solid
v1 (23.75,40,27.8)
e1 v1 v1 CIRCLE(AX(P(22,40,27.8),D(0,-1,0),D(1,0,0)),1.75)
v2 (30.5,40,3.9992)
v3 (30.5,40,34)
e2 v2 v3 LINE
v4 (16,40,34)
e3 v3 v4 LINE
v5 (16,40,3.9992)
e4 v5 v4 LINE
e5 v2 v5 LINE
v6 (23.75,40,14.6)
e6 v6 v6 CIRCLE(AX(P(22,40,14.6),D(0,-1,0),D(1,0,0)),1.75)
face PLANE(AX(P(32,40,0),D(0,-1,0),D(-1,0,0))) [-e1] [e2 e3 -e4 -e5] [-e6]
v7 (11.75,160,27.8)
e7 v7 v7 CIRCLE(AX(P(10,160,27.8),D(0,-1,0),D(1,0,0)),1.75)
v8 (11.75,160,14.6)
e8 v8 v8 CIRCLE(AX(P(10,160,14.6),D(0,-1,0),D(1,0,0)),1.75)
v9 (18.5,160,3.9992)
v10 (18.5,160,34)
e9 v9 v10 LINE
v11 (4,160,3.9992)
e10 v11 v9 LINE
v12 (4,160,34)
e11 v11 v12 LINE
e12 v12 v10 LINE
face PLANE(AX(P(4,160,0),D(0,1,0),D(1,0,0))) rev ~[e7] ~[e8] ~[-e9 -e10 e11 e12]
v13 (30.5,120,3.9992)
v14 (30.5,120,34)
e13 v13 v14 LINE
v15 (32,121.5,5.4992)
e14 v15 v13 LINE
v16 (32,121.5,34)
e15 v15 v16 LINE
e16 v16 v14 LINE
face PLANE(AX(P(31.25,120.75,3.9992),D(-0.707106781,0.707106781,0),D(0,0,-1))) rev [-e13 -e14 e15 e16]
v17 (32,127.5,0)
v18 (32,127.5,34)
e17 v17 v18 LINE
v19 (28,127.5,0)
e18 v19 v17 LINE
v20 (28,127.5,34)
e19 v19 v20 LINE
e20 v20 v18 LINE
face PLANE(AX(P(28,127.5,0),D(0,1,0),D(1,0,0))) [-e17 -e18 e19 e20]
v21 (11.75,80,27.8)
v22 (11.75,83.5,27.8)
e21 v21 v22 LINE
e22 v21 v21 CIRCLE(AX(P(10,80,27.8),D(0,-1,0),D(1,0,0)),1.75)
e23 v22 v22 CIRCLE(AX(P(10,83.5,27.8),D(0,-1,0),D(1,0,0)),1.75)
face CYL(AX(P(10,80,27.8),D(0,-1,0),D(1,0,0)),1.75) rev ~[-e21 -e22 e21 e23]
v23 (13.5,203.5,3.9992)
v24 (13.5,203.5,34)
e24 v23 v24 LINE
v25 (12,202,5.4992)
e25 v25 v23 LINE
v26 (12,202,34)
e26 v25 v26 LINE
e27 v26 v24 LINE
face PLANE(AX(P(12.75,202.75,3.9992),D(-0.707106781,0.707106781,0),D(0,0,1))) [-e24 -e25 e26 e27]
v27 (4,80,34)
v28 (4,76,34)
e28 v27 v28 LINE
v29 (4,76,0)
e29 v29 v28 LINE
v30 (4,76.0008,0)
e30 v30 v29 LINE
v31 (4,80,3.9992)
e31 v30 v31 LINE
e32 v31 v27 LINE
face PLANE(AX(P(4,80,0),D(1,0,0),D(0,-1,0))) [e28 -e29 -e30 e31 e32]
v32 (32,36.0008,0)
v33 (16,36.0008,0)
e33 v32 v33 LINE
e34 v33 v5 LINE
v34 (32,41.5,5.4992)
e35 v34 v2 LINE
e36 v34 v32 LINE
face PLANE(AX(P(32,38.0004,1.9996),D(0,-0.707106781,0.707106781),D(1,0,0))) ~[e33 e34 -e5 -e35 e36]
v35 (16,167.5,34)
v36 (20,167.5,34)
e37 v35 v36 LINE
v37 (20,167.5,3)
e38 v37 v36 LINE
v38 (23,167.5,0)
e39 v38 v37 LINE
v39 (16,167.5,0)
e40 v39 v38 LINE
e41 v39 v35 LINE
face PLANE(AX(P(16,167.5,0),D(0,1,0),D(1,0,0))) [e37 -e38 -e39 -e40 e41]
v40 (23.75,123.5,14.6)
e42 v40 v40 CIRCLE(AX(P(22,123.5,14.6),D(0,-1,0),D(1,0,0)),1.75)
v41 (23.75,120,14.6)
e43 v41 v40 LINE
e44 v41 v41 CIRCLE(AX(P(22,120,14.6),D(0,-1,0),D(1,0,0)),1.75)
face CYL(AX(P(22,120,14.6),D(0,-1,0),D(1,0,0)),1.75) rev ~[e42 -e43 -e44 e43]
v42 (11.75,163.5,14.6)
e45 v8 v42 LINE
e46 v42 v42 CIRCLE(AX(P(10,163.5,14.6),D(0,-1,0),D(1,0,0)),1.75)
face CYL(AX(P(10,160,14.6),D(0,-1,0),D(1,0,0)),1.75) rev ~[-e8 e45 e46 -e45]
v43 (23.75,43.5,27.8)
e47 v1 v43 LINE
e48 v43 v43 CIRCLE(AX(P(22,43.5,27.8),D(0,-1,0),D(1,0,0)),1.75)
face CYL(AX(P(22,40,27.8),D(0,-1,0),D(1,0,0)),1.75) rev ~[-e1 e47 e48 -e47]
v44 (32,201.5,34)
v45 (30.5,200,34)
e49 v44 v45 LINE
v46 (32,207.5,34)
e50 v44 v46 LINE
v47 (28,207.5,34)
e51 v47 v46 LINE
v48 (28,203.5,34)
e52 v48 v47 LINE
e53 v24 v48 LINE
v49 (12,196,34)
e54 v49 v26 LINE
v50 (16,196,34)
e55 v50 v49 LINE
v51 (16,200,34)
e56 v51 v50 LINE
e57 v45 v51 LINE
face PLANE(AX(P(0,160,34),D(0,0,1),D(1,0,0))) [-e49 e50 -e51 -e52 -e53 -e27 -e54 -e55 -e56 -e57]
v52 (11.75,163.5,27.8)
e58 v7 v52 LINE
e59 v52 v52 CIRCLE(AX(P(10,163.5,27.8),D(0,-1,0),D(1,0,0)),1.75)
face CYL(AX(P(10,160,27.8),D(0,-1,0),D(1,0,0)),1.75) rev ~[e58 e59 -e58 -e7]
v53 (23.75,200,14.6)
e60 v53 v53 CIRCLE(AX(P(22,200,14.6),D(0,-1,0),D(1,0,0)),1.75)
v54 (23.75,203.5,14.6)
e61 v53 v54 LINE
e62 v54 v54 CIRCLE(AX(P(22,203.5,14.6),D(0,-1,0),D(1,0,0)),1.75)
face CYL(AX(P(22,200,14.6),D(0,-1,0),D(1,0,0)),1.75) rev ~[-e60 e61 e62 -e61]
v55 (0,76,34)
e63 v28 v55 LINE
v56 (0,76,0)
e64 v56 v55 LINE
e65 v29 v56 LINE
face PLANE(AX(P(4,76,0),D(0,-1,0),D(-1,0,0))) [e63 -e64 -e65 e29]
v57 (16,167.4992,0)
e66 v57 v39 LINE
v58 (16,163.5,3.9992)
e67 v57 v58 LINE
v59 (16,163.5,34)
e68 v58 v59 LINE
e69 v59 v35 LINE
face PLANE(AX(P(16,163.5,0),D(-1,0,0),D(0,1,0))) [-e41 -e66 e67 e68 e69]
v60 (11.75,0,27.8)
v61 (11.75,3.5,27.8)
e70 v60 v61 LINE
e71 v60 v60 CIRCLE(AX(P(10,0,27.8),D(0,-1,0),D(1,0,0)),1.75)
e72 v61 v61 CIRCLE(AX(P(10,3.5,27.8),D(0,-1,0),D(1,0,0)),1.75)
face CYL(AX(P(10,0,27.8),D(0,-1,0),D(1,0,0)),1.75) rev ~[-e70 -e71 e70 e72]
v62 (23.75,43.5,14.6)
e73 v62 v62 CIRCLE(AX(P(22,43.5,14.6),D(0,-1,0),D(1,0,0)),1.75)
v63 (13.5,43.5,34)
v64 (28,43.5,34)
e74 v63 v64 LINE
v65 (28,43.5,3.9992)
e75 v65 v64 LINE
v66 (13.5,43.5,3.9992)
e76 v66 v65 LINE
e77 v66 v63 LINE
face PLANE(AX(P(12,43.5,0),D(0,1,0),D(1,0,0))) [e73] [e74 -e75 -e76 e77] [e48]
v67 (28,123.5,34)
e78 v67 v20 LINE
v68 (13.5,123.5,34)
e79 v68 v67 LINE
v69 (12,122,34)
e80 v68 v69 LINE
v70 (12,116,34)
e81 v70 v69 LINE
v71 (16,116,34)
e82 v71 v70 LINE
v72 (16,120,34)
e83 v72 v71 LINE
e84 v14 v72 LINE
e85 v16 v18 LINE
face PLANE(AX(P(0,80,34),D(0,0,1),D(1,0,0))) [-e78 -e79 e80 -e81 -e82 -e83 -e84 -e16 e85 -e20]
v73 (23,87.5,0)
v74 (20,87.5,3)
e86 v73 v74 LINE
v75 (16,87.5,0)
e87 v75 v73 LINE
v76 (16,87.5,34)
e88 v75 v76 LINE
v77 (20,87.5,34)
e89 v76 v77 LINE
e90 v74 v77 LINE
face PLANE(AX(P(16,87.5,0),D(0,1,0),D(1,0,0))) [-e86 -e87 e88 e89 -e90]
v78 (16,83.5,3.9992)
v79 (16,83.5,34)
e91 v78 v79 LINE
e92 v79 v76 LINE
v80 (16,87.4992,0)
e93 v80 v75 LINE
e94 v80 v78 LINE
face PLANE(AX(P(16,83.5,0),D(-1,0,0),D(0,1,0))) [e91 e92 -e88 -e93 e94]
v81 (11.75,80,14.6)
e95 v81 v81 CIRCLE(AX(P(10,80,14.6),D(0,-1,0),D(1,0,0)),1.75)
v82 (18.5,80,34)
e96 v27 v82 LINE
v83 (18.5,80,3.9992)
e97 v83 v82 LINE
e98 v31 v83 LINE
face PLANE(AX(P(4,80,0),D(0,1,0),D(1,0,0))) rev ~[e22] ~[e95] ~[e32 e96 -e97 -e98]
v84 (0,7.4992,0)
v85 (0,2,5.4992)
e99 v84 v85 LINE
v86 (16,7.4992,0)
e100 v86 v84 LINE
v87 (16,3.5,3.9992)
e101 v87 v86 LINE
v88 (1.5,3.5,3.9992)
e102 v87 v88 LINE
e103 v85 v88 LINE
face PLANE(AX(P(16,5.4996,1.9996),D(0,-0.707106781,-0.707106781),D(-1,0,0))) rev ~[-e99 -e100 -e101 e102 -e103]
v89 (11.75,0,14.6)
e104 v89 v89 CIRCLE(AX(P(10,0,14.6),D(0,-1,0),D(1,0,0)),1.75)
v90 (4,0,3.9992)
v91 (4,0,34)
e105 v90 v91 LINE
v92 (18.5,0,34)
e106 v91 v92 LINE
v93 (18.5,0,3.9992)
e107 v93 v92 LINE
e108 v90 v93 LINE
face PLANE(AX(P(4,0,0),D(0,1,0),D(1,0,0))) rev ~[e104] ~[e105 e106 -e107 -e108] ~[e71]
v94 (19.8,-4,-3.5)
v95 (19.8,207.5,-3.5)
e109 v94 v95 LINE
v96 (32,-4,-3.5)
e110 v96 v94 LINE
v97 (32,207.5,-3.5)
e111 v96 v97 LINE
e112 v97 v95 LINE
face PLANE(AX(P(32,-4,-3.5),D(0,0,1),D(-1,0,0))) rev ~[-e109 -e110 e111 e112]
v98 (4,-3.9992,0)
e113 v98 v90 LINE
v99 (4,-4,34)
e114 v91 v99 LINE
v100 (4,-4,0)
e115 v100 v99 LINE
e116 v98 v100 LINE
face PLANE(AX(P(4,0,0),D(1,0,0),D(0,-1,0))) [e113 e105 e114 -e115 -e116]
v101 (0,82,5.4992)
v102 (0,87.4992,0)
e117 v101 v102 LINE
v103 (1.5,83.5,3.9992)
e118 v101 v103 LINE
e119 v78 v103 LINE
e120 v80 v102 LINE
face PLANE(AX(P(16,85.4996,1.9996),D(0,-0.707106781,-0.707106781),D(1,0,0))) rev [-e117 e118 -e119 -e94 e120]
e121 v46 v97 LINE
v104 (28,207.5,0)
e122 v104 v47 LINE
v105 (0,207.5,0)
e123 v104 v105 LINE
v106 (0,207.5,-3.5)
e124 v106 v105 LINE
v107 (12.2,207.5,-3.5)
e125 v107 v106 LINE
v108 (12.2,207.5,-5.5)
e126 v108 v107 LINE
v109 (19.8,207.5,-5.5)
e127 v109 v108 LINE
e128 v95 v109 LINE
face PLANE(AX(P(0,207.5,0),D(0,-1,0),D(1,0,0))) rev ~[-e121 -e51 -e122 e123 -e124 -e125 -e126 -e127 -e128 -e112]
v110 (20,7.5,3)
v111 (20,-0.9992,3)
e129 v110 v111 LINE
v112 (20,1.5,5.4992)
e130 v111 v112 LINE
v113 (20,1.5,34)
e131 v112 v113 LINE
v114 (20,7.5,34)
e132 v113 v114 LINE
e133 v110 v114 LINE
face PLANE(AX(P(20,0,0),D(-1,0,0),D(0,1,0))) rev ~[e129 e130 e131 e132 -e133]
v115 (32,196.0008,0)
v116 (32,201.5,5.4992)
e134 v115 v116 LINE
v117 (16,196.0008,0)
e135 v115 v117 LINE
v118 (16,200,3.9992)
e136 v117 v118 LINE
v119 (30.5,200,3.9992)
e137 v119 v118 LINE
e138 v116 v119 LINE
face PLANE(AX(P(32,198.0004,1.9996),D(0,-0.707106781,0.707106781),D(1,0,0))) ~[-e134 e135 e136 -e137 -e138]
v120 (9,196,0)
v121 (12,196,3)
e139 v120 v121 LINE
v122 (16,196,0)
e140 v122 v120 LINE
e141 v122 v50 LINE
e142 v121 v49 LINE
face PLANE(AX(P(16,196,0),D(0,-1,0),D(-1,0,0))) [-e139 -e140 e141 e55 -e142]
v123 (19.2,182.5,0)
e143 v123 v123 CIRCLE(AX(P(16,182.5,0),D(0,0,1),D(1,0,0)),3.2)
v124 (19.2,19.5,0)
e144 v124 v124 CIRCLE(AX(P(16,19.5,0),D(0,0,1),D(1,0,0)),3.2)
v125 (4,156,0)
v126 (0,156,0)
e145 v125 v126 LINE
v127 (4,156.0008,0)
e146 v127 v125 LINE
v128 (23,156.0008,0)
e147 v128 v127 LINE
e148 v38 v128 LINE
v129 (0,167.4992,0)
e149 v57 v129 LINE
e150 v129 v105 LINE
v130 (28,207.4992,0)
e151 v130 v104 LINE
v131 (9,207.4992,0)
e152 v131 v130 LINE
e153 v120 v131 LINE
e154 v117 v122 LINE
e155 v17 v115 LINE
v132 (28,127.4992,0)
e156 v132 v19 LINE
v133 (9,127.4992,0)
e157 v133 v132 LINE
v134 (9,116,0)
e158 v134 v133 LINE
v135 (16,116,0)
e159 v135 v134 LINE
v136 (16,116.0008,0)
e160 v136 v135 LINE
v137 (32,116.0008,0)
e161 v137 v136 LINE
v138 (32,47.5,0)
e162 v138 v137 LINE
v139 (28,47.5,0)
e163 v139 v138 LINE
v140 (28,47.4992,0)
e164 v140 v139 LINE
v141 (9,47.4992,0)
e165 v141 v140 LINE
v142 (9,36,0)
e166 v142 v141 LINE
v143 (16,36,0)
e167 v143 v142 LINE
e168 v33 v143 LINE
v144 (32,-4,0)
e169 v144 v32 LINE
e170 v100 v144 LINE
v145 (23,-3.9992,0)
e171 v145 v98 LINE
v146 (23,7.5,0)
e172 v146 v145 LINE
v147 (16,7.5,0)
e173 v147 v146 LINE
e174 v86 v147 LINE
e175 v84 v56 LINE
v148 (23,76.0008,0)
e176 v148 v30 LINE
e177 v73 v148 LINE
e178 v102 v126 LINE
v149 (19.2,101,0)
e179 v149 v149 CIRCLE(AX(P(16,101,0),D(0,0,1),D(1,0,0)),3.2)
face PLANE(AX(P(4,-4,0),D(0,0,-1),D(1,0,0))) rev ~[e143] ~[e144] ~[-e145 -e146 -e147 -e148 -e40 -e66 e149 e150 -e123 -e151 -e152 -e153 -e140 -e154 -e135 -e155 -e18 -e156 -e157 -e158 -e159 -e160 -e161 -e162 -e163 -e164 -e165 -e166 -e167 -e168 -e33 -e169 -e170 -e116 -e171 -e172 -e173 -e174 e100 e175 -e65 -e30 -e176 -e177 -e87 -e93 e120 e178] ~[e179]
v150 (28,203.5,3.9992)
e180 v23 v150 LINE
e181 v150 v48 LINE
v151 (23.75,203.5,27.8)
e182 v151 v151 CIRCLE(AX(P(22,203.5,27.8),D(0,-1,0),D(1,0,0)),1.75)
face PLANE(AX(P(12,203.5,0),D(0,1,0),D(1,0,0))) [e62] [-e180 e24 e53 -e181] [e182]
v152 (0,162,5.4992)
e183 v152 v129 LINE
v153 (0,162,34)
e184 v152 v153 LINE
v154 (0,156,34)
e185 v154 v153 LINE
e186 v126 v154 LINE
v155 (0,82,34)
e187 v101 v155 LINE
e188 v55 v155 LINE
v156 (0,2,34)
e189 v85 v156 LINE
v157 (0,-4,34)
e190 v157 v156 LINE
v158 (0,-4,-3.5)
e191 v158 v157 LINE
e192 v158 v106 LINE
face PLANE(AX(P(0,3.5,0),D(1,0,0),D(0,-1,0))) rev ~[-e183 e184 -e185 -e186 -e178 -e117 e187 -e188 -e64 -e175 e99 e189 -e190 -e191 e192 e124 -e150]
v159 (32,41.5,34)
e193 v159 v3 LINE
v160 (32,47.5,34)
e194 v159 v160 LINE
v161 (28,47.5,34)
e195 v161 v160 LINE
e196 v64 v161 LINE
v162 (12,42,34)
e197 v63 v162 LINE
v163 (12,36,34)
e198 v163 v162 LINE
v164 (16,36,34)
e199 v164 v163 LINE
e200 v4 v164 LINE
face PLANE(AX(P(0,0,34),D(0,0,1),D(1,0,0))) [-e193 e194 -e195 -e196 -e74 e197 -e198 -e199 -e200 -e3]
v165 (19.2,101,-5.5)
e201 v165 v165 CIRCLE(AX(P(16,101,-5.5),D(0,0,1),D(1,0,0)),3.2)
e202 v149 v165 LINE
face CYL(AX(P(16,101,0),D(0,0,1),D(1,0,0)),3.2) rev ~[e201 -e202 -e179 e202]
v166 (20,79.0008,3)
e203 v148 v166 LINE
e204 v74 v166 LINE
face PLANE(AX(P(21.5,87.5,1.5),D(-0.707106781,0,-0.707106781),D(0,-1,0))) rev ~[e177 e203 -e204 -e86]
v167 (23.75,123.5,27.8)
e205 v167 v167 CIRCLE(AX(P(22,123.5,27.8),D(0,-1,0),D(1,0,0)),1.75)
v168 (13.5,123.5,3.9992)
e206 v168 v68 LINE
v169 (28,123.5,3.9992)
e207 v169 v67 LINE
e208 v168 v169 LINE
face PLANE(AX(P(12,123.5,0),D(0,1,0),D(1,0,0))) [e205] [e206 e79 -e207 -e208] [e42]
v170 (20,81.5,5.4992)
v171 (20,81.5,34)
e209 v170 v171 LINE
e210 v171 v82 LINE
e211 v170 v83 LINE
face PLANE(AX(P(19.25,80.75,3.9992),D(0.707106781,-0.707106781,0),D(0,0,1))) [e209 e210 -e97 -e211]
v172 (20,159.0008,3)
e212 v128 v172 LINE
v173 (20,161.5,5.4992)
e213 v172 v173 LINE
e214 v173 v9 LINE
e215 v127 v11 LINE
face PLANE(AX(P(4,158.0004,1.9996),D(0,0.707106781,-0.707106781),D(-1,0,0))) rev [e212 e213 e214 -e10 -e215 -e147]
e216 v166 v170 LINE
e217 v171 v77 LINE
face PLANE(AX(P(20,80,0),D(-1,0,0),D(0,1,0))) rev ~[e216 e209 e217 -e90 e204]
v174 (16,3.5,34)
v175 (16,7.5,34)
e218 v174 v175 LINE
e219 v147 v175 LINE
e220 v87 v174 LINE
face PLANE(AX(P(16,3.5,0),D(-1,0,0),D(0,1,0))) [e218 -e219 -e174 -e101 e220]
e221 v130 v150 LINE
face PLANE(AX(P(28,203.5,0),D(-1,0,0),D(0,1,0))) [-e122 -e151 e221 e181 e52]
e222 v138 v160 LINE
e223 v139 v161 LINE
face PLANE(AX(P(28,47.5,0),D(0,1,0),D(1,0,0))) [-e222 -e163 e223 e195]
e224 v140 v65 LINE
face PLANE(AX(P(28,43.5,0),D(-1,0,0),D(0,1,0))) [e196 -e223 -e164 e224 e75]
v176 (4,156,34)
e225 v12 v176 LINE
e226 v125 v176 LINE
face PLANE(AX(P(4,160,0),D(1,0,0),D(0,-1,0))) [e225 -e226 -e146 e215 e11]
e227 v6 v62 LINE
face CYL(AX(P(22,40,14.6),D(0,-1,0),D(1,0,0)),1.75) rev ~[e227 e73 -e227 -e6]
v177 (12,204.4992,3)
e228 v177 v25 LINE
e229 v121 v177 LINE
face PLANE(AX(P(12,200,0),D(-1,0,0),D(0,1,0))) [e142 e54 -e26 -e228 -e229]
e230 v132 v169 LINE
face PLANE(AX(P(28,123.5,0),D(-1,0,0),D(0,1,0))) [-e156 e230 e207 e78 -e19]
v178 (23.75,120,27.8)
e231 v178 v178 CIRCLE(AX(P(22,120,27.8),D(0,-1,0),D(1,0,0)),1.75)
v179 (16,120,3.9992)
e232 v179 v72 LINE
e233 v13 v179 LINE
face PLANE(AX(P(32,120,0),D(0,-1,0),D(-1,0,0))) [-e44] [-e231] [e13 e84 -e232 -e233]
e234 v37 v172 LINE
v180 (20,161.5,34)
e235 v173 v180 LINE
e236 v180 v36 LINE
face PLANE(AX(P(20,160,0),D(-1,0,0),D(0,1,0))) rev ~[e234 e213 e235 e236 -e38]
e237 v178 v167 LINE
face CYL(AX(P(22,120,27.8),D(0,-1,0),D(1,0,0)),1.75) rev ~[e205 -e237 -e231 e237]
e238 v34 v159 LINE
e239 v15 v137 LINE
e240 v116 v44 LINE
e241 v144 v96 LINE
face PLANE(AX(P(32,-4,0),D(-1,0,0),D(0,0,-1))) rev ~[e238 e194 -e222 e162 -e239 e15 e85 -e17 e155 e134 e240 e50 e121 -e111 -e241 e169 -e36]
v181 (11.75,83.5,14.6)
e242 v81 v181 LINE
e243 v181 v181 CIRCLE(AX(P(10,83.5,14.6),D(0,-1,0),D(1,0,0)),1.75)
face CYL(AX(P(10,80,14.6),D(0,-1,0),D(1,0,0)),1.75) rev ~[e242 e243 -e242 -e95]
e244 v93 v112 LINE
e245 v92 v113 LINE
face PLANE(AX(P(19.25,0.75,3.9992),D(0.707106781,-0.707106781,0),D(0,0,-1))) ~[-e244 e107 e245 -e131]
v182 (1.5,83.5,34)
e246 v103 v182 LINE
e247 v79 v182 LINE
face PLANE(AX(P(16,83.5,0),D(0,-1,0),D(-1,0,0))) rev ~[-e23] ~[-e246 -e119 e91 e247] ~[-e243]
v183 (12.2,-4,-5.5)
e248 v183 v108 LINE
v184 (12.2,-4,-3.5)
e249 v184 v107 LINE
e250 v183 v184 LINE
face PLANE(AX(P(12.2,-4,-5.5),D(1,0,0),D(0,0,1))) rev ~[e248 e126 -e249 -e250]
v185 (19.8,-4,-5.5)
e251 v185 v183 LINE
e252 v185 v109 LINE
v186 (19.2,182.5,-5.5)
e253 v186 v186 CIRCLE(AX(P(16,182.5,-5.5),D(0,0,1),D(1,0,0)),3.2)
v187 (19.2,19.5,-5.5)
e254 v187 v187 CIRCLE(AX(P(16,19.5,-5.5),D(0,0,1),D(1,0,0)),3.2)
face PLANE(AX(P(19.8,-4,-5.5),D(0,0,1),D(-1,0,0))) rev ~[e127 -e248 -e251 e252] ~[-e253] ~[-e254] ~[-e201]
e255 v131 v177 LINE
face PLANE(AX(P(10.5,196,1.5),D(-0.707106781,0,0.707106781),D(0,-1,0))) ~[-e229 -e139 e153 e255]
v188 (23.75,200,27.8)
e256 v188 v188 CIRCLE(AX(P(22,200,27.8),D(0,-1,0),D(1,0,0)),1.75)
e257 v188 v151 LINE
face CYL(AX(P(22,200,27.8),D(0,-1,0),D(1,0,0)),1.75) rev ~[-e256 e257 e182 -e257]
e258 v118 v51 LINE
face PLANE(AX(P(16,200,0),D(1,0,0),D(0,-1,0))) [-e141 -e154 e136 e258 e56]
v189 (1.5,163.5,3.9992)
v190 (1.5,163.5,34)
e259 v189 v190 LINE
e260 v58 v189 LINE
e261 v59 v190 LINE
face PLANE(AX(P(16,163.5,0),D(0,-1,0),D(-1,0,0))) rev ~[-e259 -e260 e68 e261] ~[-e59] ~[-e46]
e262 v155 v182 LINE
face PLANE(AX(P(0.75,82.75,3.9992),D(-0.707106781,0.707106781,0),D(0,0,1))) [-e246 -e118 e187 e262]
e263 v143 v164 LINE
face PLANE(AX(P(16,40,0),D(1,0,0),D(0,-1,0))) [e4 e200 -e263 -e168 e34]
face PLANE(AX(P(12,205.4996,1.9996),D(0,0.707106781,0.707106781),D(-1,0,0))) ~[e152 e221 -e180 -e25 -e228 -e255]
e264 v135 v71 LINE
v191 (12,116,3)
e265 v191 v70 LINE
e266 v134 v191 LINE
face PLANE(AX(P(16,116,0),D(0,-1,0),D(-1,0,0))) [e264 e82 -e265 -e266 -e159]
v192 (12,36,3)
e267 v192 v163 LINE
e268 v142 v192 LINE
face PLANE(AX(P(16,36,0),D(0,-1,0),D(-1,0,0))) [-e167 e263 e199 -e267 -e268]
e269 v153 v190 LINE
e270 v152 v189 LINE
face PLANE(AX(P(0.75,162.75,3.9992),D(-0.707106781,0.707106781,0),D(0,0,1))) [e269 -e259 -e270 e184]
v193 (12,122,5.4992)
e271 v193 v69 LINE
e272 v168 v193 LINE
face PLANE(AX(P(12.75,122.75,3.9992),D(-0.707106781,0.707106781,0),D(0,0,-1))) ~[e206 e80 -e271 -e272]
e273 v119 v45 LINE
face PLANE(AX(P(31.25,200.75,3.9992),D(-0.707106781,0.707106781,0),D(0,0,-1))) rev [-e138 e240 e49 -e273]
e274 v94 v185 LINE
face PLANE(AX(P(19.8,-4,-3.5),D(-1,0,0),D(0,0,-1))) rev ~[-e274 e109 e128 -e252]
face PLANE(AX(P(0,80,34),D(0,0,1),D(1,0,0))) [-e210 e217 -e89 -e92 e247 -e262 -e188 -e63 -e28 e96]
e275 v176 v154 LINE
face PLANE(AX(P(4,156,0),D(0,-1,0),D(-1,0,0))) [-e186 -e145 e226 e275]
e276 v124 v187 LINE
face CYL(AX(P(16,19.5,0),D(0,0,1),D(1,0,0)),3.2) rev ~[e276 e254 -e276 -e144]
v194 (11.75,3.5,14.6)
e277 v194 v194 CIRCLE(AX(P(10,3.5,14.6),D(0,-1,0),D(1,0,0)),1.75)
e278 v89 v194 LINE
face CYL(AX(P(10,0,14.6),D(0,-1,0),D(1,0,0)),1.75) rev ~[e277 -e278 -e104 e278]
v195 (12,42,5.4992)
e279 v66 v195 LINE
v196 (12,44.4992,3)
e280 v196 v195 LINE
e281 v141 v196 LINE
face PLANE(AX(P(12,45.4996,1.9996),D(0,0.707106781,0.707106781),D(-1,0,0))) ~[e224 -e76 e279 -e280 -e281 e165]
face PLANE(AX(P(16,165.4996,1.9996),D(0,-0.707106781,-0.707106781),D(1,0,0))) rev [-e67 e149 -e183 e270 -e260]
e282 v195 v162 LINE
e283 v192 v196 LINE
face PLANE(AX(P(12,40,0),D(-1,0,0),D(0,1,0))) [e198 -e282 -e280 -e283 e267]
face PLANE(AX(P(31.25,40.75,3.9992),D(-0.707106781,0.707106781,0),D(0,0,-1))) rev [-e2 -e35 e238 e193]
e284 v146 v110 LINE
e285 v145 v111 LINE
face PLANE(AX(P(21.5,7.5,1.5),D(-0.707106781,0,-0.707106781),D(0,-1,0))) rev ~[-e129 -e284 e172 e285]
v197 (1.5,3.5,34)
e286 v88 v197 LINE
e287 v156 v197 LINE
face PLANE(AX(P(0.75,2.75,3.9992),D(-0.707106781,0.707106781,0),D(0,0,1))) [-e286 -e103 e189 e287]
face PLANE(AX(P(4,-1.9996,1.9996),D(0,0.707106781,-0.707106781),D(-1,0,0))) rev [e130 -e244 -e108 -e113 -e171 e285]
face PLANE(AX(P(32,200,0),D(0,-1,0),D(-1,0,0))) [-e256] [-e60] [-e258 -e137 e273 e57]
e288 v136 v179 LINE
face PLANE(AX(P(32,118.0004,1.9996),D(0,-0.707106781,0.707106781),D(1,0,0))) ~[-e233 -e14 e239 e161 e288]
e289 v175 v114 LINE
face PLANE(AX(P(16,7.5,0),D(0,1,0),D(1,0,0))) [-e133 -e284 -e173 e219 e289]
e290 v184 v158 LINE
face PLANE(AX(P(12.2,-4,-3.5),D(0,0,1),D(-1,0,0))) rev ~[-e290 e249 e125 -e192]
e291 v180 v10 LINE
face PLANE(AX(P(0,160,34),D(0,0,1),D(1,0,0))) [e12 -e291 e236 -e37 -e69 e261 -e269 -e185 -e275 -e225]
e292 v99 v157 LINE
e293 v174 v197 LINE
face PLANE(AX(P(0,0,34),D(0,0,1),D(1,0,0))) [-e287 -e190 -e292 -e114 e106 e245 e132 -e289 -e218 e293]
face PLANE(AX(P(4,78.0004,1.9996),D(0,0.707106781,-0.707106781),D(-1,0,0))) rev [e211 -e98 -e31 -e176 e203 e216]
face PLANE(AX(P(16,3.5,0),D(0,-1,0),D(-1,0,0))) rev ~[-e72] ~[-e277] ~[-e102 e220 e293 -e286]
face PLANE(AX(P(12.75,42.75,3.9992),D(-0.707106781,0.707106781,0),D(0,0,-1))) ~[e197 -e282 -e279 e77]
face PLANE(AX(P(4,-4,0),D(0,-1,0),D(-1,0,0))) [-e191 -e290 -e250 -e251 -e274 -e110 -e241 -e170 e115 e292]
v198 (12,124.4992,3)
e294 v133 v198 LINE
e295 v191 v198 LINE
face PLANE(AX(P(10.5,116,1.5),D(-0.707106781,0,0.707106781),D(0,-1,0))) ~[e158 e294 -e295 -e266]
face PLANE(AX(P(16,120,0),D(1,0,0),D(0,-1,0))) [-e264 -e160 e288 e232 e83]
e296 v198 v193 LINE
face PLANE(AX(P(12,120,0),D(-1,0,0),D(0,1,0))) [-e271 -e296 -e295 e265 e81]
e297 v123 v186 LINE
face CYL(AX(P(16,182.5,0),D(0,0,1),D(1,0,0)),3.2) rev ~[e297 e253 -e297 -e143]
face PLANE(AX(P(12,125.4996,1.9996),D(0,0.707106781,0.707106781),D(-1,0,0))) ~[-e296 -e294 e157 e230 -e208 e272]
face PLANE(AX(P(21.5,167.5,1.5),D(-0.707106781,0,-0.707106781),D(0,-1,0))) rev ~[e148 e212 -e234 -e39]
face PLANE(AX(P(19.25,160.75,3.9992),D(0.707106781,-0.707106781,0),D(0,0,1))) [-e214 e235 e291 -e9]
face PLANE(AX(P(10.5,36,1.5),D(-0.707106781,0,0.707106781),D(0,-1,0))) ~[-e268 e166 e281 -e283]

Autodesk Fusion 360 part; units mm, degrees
sketch "Sketch1" plane through (0, 0, 0) normal (0, 0, 1) x (1, 0, 0)
  line L0 (0, 0) -> (20, 0)
  line L1 (20, 0) -> (20, 3.5)
  line L2 (20, 3.5) -> (0, 3.5)
  line L3 (0, 3.5) -> (0, 0)
  line L4 (0, 0) -> (4, 0)
  line L5 (4, 0) -> (4, -4)
  line L6 (4, -4) -> (0, -4)
  line L7 (0, -4) -> (0, 0)
  line L8 (20, 3.5) -> (16, 3.5)
  line L9 (16, 3.5) -> (16, 7.5)
  line L10 (16, 7.5) -> (20, 7.5)
  line L11 (20, 7.5) -> (20, 3.5)
  dimension "d1" = 3.5
  dimension "d2" = 20
  dimension "d3" = 4
  dimension "d4" = 4
  dimension "d5" = 4
  dimension "d6" = 4
extrude "Extrude1" add sketch "Sketch1" along normal blind 34 makes body 1
sketch "Sketch2" plane through (0, 0, 0) normal (0, -1, 0) x (1, 0, 0)
  line L0 (4, 0) -> (20, 0)
  line L1 (20, 0) -> (20, 34)
  line L2 (20, 34) -> (4, 34)
  line L3 (4, 34) -> (4, 0)
  circle A0 centre (10, 27.8) radius 1.75
  circle A1 centre (10, 14.6) radius 1.75
  line L4 (16, 34) -> (4, 34) construction
  point P0 (16, 34)
  point P1 (10, 34)
  dimension "d9" = 3.5
  dimension "d10" = 6.2
  dimension "d11" = 13.2
  dimension "d12" = 3.5
extrude "Extrude2" cut sketch "Sketch2" against normal blind 15 contours A0 | A1 bodies 1
pattern_linear "R-Pattern1" count 3 spacing 80 along (0, 1, 0) of bodies 1 makes body 2 at (8.5369, 83.5, 4.298) makes body 3 at (8.5369, 163.5, 4.298)
sketch "Sketch3" plane through (0, 0, 0) normal (0, 0, 1) x (1, 0, 0)
  line L0 (12, 43.5) -> (32, 43.5)
  line L1 (32, 43.5) -> (32, 40)
  line L2 (32, 40) -> (12, 40)
  line L3 (12, 40) -> (12, 43.5)
  line L4 (12, 40) -> (16, 40)
  line L5 (16, 40) -> (16, 36)
  line L6 (16, 36) -> (12, 36)
  line L7 (12, 36) -> (12, 40)
  line L8 (32, 43.5) -> (28, 43.5)
  line L9 (28, 43.5) -> (28, 47.5)
  line L10 (28, 47.5) -> (32, 47.5)
  line L11 (32, 47.5) -> (32, 43.5)
  line L12 (0, 3.5) -> (0, -4)
  line L13 (4, 0) -> (20, 0)
  dimension "d19" = 20
  dimension "d20" = 3.5
  dimension "d21" = 4
  dimension "d22" = 4
  dimension "d23" = 4
  dimension "d24" = 4
  dimension "d25" = 12
  dimension "d26" = 40
extrude "Extrude3" add sketch "Sketch3" along normal blind 34 separate body makes body 4
sketch "Sketch4" plane through (0, 40, 0) normal (0, -1, 0) x (1, 0, 0)
  line L0 (16, 0) -> (32, 0)
  line L1 (32, 0) -> (32, 34)
  line L2 (32, 34) -> (16, 34)
  line L3 (16, 34) -> (16, 0)
  circle A0 centre (22, 27.8) radius 1.75
  circle A1 centre (22, 14.6) radius 1.75
  line L4 (28, 34) -> (16, 34)
  point P0 (28, 34)
  point P1 (22, 34)
  dimension "d29" = 3.5
  dimension "d30" = 3.5
  dimension "d31" = 6.2
  dimension "d32" = 13.2
extrude "Extrude4" cut sketch "Sketch4" against normal blind 5 contours A0 | A1 bodies 4
pattern_linear "R-Pattern2" count 3 spacing 80 along (0, 1, 0) of bodies 4 makes body 5 at (20.5369, 123.5, 4.298) makes body 6 at (20.5369, 203.5, 4.298)
sketch "Sketch5" plane through (0, 0, 0) normal (0, -1, 0) x (1, 0, 0)
  circle A0 centre (10, 27.8) radius 1.75
  circle A1 centre (10, 14.6) radius 1.75
  line L0 (4, 0) -> (20, 0)
  line L1 (20, 0) -> (20, 34)
  line L2 (20, 34) -> (4, 34)
  line L3 (4, 34) -> (4, 0)
  line L4 (0, 0) -> (32, 0)
  line L5 (32, 0) -> (32, -3.5)
  line L6 (32, -3.5) -> (0, -3.5)
  line L7 (0, -3.5) -> (0, 0)
  line L8 (12.2, -3.5) -> (19.8, -3.5)
  line L9 (19.8, -3.5) -> (19.8, -5.5)
  line L10 (19.8, -5.5) -> (12.2, -5.5)
  line L11 (12.2, -5.5) -> (12.2, -3.5)
  point P0 (32, 0)
  point P1 (16, -3.5)
  point P2 (16, -3.5)
  dimension "d39" = 3.5
  dimension "d40" = 7.6
  dimension "d41" = 2
extrude "Extrude5" add sketch "Sketch5" along normal blind -207.5 and the other way up to surface (-4 mm away) contours L0 L4 L5 L6 L7 L8 | L6 L8 L9 L10 L11 bodies 1 2 3 4 5 6
sketch "Sketch6" plane through (0, 0, 0) normal (0, 0, 1) x (1, 0, 0)
  line L0 (32, 200) -> (16, 200)
  line L1 (16, 200) -> (16, 196)
  line L2 (16, 196) -> (12, 196)
  line L3 (12, 196) -> (12, 203.5)
  line L4 (12, 203.5) -> (28, 203.5)
  line L5 (28, 203.5) -> (28, 207.5)
  line L6 (28, 207.5) -> (0, 207.5)
  line L7 (0, 207.5) -> (0, 163.5)
  line L8 (0, 163.5) -> (16, 163.5)
  line L9 (16, 163.5) -> (16, 167.5)
  line L10 (16, 167.5) -> (20, 167.5)
  line L11 (20, 167.5) -> (20, 160)
  line L12 (20, 160) -> (4, 160)
  line L13 (4, 160) -> (4, 156)
  line L14 (4, 156) -> (0, 156)
  line L15 (0, 156) -> (0, 83.5)
  line L16 (0, 83.5) -> (16, 83.5)
  line L17 (16, 83.5) -> (16, 87.5)
  line L18 (16, 87.5) -> (20, 87.5)
  line L19 (20, 87.5) -> (20, 80)
  line L20 (20, 80) -> (4, 80)
  line L21 (4, 80) -> (4, 76)
  line L22 (4, 76) -> (0, 76)
  line L23 (0, 76) -> (0, 3.5)
  line L24 (0, 3.5) -> (16, 3.5)
  line L25 (16, 3.5) -> (16, 7.5)
  line L26 (16, 7.5) -> (20, 7.5)
  line L27 (20, 7.5) -> (20, 0)
  line L28 (20, 0) -> (4, 0)
  line L29 (4, 0) -> (4, -4)
  line L30 (4, -4) -> (32, -4)
  line L31 (32, -4) -> (32, 40)
  line L32 (32, 40) -> (16, 40)
  line L33 (16, 40) -> (16, 36)
  line L34 (16, 36) -> (12, 36)
  line L35 (12, 36) -> (12, 43.5)
  line L36 (12, 43.5) -> (28, 43.5)
  line L37 (28, 43.5) -> (28, 47.5)
  line L38 (28, 47.5) -> (32, 47.5)
  line L39 (32, 47.5) -> (32, 120)
  line L40 (32, 120) -> (16, 120)
  line L41 (16, 120) -> (16, 116)
  line L42 (16, 116) -> (12, 116)
  line L43 (12, 116) -> (12, 123.5)
  line L44 (12, 123.5) -> (28, 123.5)
  line L45 (28, 123.5) -> (28, 127.5)
  line L46 (28, 127.5) -> (32, 127.5)
  line L47 (32, 127.5) -> (32, 200)
  circle A0 centre (16, 182.5) radius 3.2
  line L48 (19.8, 207.5) -> (12.2, 207.5)
  circle A1 centre (16, 101) radius 3.2
  circle A2 centre (16, 19.5) radius 3.2
  point P0 (16, 207.5)
  dimension "d46" = 6.4
  dimension "d47" = 25
  dimension "d50" = 163
  dimension "d51" = 0
extrude "Extrude6" cut sketch "Sketch6" against normal blind 15 contours A0 | A1 | A2 bodies 1
chamfer "Chamfer1" distance 4 angle 45 12 edges at (12, 0, 0) (8, 3.5, 0) (24, 40, 0) (20, 43.5, 0) (12, 80, 0) (8, 83.5, 0) (20, 123.5, 0) (24, 120, 0) (12, 160, 0) (8, 163.5, 0) (24, 200, 0) (20, 203.5, 0) on bodies 1
chamfer "Chamfer2" distance 3 angle 45 6 edges at (12, 201.75, 0) (20, 161.75, 0) (20, 81.75, 0) (20, 1.75, 0) (12, 121.75, 0) (12, 41.75, 0) on bodies 1
chamfer "Chamfer3" distance 1.5 angle 45 12 edges at (32, 200, 19) (12, 203.5, 19) (20, 160, 19) (0, 163.5, 19) (12, 123.5, 19) (32, 120, 19) (20, 80, 19) (0, 83.5, 19) (12, 43.5, 19) (32, 40, 19) (20, 0, 19) (0, 3.5, 19) on bodies 1
equation "d12 = d9"
equation "d22 = d21"
equation "d23 = d21"
equation "d24 = d21"
